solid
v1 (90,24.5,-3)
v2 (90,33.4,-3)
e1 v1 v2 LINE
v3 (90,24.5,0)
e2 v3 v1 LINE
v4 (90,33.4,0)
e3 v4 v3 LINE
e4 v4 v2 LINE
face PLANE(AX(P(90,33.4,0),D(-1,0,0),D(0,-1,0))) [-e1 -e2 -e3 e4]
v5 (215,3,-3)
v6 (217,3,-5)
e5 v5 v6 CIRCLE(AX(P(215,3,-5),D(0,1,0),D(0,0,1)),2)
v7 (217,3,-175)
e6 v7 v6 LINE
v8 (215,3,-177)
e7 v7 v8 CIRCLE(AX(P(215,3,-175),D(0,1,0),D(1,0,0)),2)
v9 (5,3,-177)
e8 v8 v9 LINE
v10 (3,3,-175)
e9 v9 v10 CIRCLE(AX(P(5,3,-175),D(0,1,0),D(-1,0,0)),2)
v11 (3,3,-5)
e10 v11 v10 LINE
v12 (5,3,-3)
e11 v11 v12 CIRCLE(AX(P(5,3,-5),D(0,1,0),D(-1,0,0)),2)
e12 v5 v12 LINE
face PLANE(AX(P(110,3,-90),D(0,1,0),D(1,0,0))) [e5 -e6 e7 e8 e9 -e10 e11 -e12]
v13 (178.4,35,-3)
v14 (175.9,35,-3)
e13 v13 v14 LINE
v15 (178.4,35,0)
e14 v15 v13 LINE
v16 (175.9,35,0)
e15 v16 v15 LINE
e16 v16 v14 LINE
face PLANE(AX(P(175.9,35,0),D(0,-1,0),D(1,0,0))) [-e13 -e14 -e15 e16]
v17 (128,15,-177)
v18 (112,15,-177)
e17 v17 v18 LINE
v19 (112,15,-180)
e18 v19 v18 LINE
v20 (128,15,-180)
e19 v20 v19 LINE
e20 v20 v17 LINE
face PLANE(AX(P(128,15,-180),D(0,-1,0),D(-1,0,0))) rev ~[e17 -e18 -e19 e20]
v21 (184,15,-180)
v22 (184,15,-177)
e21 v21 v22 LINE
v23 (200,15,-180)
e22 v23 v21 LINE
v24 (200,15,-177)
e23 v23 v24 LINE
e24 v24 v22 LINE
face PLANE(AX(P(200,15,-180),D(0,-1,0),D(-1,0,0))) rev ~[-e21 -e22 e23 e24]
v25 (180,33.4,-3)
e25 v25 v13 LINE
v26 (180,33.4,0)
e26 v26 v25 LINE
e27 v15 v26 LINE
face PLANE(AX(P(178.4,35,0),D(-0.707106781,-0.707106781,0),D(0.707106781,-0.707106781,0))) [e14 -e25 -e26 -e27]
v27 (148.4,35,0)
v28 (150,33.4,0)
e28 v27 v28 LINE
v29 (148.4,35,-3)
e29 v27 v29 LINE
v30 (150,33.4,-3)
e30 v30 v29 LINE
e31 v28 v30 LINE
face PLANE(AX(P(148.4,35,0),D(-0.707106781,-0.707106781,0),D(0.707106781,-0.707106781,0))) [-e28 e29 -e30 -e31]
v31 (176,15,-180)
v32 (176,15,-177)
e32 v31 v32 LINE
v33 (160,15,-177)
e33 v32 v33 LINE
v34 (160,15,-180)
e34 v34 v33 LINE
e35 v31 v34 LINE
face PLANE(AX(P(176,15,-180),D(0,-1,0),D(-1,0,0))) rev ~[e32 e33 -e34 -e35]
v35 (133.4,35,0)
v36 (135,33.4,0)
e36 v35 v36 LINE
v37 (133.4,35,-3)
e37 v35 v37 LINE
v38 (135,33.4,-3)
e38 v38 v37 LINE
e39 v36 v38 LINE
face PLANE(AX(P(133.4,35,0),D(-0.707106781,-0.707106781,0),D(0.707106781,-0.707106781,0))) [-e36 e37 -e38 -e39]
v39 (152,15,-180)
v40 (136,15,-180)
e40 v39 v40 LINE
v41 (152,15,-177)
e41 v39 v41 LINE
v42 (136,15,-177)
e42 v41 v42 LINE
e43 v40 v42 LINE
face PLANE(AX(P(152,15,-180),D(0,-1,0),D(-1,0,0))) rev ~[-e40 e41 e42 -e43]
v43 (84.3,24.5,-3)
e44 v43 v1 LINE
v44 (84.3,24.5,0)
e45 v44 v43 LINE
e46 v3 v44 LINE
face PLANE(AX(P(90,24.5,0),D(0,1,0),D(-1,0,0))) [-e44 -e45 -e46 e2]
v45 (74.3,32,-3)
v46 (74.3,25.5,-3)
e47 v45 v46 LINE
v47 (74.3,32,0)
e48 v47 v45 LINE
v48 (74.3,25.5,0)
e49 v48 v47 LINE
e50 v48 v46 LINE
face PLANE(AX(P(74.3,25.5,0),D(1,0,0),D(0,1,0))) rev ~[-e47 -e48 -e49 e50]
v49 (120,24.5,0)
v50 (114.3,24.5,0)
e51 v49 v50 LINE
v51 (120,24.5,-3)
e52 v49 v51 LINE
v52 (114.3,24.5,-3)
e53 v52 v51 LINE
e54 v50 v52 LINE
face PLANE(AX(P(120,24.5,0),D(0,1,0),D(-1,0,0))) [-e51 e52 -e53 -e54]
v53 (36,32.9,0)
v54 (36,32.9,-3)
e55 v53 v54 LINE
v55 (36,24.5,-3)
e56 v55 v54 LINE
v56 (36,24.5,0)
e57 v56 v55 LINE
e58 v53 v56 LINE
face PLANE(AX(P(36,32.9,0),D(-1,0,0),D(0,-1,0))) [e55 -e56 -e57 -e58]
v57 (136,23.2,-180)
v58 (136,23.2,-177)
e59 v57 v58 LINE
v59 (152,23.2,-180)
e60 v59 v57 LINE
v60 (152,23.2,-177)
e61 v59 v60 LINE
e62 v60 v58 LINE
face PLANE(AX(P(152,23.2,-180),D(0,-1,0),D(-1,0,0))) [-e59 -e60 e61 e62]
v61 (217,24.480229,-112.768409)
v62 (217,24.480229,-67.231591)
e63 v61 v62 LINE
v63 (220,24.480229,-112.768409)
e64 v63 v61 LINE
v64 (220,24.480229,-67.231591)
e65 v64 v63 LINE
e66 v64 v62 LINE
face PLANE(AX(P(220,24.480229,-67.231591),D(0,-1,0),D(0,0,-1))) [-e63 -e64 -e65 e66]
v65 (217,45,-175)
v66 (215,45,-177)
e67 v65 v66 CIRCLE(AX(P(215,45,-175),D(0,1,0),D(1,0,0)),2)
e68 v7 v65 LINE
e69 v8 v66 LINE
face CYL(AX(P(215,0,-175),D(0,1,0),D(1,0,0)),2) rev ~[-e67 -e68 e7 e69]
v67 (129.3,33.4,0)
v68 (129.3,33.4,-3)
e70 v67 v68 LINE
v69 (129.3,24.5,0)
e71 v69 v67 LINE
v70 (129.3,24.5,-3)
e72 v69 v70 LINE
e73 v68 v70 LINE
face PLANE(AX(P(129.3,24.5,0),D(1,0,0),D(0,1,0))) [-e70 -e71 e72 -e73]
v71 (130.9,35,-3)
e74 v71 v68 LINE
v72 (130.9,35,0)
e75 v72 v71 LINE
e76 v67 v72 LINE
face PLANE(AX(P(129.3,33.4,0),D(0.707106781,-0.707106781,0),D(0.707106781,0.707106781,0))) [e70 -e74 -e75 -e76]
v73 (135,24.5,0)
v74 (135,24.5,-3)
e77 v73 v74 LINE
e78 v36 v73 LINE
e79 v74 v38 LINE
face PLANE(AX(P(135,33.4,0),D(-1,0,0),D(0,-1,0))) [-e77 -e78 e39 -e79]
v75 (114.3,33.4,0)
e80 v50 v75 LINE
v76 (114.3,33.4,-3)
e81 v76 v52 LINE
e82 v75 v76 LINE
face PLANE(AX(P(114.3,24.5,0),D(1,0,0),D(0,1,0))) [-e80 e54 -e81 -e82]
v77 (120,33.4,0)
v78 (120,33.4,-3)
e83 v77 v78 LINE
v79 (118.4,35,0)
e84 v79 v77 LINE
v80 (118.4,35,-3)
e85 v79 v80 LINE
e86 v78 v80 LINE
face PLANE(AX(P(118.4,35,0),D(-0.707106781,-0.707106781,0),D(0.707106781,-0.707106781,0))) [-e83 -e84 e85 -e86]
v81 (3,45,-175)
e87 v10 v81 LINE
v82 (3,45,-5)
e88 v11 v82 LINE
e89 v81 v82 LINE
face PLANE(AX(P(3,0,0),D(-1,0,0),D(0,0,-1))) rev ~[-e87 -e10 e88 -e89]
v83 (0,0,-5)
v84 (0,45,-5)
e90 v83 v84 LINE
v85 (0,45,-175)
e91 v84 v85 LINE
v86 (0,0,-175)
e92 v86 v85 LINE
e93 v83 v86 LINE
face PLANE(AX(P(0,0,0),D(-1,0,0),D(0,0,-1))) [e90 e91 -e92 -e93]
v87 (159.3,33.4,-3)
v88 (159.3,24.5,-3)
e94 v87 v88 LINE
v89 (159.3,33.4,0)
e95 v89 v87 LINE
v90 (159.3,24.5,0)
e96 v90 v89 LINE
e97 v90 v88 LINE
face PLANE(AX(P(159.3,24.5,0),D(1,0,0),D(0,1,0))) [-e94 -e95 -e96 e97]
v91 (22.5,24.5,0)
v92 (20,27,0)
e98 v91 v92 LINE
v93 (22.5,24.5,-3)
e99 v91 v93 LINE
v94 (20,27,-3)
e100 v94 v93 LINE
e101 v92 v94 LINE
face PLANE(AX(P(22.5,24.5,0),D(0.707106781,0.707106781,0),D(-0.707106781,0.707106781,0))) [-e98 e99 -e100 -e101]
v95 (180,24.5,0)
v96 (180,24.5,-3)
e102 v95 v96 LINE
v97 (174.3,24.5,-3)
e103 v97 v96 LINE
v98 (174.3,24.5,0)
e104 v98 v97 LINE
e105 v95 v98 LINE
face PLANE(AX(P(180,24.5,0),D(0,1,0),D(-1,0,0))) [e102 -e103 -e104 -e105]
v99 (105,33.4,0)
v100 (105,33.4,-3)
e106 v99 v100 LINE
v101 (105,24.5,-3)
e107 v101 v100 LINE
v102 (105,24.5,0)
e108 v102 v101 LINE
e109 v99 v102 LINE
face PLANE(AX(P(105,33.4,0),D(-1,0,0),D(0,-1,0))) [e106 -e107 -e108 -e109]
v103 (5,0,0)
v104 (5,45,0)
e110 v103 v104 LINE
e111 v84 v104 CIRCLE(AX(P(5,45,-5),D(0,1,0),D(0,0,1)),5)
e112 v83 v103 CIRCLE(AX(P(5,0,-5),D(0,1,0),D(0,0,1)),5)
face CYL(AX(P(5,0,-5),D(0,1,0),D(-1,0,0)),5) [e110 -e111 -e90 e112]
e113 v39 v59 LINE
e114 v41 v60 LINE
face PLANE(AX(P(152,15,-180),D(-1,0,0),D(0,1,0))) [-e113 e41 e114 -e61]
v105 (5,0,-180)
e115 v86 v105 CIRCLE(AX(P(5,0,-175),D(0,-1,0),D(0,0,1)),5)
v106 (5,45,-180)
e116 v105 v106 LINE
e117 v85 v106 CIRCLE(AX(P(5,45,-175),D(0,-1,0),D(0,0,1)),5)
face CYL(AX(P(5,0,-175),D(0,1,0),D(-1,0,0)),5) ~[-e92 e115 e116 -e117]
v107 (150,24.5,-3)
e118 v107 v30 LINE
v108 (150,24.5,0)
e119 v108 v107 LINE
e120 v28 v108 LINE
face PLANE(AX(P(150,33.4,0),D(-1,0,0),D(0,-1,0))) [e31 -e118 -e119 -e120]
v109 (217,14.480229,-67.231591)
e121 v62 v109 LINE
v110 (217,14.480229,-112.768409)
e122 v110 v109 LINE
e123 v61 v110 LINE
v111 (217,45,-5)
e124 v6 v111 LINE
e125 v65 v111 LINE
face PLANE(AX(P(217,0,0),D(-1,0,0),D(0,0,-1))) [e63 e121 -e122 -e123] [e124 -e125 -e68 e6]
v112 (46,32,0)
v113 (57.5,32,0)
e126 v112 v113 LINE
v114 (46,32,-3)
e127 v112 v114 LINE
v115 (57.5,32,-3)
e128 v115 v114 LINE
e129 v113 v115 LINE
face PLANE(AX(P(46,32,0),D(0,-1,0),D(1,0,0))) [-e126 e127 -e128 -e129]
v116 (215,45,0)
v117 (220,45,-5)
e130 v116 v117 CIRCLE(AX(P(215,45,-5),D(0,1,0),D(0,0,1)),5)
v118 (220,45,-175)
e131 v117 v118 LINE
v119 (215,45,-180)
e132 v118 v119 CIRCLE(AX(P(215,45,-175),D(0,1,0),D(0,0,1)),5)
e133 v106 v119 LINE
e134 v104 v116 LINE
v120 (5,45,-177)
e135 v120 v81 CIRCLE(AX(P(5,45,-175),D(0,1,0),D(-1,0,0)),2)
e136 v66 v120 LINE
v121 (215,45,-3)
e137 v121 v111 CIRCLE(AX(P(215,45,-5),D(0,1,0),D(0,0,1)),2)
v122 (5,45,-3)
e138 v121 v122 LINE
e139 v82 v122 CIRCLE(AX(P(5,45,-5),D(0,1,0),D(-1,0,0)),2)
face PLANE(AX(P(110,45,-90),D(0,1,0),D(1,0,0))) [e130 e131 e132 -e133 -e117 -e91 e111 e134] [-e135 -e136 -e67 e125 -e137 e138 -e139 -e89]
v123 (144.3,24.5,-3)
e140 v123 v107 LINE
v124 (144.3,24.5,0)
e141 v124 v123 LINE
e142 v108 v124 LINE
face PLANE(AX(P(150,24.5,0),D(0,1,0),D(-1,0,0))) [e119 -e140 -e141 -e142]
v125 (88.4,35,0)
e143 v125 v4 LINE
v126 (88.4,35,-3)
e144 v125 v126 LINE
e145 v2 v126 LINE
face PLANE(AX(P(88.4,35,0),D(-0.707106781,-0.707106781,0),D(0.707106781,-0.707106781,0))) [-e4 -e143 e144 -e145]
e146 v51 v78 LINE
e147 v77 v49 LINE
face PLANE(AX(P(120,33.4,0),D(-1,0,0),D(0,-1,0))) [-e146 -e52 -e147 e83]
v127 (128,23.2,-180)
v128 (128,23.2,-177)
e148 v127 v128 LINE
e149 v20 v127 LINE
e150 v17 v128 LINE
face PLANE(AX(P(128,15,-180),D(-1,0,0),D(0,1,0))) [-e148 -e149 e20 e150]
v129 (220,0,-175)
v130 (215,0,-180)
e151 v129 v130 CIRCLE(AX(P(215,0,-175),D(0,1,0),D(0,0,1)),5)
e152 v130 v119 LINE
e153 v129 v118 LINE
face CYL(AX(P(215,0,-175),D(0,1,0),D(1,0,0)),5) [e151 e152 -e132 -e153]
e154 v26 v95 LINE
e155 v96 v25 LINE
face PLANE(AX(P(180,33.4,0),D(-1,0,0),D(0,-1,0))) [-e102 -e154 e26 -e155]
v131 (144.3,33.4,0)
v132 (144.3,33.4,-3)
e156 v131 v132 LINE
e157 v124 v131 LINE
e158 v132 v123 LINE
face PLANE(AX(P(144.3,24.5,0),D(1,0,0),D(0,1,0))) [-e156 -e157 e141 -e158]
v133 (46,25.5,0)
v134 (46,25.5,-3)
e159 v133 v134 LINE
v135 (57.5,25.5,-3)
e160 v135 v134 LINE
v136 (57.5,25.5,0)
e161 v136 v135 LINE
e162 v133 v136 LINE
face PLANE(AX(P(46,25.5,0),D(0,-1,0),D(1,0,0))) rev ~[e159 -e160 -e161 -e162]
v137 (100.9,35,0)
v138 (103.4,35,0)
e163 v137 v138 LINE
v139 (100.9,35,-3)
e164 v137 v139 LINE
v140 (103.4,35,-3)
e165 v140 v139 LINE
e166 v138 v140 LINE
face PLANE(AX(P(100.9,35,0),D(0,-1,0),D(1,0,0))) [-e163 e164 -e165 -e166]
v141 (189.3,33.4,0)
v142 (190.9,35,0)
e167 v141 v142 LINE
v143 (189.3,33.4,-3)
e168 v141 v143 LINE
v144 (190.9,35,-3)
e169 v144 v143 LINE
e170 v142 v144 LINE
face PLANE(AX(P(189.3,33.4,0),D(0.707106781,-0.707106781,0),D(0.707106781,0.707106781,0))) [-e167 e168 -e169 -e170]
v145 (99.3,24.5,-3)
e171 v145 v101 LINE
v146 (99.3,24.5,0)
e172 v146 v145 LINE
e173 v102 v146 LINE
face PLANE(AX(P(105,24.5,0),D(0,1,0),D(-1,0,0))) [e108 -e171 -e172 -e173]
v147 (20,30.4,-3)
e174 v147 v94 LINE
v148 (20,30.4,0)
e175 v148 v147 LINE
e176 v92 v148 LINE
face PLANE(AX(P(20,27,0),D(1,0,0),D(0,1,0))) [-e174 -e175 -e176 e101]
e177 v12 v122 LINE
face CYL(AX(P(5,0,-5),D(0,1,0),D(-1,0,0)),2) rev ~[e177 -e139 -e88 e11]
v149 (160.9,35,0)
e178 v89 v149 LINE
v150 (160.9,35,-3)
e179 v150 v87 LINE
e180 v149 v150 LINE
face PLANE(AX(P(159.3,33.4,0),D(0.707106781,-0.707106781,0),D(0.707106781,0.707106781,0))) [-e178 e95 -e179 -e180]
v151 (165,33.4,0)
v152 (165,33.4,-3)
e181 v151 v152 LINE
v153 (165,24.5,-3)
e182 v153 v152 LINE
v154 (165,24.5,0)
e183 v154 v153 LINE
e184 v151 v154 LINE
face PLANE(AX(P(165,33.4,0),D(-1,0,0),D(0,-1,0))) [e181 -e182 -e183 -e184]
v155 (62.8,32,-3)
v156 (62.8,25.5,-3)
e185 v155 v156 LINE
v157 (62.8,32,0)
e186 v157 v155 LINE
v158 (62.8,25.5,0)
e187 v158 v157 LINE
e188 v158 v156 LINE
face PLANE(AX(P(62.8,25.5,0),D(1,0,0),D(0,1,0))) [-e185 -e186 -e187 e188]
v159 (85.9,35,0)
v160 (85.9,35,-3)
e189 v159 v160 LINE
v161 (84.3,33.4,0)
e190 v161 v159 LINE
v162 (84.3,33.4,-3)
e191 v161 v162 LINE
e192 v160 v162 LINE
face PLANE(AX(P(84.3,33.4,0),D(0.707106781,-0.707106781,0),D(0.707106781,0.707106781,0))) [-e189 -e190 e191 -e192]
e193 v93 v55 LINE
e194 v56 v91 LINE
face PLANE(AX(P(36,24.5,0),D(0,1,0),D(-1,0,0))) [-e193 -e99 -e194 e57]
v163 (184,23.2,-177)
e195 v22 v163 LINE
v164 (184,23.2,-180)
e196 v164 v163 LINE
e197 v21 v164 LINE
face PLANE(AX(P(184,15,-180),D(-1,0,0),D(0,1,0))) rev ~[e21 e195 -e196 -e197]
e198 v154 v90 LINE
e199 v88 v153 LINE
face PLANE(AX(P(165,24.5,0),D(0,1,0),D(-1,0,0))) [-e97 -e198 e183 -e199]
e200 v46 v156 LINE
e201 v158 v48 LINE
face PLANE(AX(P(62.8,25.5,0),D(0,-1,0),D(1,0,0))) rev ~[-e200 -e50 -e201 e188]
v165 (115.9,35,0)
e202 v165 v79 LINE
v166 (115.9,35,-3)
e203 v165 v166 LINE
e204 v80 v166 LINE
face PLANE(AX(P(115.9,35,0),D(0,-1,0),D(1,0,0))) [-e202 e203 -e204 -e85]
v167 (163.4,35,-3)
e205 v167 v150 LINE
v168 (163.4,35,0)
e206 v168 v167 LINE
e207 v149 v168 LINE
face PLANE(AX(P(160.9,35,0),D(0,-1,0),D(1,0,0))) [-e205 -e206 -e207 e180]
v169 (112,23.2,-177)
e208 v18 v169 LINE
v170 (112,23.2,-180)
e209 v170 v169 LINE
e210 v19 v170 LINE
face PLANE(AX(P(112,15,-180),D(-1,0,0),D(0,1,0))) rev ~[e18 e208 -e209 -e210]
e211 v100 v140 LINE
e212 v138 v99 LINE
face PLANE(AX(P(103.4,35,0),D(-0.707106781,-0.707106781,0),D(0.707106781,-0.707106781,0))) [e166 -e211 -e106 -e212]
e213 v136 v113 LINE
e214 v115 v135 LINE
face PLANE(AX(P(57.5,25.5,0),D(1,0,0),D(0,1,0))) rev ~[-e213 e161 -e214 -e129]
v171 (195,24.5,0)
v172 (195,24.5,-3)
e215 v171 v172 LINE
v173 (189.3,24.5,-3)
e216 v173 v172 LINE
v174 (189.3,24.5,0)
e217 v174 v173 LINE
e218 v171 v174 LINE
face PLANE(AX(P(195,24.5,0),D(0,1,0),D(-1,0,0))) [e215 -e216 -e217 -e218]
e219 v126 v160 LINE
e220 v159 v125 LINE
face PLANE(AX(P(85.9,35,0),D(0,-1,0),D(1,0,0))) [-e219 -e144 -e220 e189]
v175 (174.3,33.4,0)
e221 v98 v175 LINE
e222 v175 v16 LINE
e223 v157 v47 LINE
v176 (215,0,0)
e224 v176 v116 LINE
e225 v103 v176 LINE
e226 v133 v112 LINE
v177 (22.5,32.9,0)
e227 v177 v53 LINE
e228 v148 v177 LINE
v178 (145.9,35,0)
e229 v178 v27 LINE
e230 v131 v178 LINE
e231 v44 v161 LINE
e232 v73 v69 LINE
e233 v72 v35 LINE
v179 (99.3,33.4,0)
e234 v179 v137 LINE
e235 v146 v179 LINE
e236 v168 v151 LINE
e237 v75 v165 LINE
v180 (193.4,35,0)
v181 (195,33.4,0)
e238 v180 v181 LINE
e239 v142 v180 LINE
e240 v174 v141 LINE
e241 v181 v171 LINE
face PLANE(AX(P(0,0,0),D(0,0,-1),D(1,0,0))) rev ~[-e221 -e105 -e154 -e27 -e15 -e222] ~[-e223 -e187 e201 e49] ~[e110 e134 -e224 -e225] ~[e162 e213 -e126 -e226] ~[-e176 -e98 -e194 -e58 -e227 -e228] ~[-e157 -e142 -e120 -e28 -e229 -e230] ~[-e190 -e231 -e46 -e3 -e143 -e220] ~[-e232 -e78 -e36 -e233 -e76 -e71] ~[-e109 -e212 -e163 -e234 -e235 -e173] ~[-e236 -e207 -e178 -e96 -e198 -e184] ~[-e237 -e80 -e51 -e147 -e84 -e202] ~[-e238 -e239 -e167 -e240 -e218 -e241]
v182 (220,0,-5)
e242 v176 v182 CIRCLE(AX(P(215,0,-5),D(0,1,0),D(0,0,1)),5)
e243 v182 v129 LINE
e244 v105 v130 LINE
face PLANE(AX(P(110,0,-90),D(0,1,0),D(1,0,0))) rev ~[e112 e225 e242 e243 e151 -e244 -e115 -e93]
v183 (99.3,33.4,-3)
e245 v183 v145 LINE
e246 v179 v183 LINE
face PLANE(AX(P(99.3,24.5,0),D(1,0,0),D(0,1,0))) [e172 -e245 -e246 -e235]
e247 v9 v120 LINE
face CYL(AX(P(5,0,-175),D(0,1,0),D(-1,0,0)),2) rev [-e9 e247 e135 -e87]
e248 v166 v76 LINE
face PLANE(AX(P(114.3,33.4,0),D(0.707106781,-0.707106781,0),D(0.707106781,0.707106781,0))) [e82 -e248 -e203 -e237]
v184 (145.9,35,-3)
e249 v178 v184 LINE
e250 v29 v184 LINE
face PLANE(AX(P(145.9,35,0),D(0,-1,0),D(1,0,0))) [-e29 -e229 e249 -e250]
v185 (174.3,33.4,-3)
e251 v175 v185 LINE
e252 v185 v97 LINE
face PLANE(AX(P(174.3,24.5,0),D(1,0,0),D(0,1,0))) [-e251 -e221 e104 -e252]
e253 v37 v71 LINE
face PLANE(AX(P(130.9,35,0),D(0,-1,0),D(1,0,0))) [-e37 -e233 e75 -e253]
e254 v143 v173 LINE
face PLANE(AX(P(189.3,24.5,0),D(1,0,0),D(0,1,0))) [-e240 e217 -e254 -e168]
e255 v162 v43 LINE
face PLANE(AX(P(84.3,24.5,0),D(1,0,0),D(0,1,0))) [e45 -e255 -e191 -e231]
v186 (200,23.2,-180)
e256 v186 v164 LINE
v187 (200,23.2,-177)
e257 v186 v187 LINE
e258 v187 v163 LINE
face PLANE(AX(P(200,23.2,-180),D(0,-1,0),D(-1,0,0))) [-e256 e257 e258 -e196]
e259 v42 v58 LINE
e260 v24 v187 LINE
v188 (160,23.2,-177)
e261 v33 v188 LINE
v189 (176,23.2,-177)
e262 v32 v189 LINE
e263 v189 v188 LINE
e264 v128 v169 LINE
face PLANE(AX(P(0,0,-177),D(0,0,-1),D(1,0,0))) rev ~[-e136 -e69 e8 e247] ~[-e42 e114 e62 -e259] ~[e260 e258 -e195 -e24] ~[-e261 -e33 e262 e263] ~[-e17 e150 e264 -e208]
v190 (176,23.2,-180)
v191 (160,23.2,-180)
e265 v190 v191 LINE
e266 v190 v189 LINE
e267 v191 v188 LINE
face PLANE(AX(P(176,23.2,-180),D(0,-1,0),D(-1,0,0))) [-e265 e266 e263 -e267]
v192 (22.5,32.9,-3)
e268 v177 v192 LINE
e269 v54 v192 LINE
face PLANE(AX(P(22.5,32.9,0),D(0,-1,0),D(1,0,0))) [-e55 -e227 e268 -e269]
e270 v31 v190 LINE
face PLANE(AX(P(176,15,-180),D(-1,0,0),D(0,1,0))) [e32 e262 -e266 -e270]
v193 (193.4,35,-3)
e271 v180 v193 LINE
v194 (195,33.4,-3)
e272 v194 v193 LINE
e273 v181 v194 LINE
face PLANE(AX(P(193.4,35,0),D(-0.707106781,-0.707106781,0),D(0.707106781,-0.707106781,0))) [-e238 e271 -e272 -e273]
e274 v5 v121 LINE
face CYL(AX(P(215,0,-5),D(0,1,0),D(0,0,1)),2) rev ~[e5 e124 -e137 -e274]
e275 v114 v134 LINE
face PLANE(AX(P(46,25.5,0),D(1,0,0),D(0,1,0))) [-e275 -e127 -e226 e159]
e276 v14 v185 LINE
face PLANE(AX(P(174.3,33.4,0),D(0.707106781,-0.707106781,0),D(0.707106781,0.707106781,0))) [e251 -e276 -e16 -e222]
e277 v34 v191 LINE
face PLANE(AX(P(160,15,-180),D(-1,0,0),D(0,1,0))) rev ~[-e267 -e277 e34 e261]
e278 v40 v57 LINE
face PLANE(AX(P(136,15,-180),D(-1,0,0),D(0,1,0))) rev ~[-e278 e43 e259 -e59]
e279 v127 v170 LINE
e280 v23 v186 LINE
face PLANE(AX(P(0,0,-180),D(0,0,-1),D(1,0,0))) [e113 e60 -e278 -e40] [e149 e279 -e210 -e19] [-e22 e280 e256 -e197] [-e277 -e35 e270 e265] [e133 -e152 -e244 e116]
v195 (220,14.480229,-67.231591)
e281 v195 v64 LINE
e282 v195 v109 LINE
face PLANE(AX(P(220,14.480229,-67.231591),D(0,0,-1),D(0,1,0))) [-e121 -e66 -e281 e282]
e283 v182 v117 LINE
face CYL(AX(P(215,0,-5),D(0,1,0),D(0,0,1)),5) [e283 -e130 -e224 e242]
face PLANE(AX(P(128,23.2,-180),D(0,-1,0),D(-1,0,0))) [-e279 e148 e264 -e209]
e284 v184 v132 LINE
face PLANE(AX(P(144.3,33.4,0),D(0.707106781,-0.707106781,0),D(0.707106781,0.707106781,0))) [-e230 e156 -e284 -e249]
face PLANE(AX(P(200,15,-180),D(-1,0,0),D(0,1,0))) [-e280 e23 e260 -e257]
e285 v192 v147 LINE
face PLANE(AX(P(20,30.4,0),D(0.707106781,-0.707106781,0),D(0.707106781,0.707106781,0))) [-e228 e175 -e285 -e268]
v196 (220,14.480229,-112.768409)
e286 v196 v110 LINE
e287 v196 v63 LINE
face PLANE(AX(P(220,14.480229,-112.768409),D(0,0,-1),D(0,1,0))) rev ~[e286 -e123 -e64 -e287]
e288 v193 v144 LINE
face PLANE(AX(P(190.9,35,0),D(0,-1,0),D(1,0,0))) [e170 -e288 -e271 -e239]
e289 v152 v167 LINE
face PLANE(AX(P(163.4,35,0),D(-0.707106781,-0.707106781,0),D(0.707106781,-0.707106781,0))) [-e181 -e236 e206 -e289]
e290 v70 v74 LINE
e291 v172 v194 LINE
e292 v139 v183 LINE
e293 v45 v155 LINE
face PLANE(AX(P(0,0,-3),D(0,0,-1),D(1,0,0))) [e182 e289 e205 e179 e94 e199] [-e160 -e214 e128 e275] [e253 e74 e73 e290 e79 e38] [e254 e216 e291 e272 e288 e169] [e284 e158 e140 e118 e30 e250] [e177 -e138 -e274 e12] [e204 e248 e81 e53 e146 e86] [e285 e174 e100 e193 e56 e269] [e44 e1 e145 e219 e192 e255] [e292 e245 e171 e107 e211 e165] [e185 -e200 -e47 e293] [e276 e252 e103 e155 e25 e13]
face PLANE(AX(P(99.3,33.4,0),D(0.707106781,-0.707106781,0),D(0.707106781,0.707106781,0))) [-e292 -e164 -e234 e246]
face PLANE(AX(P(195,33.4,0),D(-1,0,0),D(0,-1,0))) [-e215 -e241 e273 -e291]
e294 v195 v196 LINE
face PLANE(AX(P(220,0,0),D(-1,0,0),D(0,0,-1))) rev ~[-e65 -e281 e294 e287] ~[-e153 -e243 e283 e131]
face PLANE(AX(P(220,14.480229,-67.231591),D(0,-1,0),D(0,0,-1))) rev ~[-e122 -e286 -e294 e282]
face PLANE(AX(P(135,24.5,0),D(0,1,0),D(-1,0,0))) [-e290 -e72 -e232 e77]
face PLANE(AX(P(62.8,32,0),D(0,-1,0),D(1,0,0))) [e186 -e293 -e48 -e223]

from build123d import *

# Parameters (mm, degrees)
SKETCH1_W           = 220
SKETCH1_H           = 180
BOSS_EXTRUDE1_DEPTH = 45
FILLET1_R           = 5
SHELL1_T            = -3
CUT_EXTRUDE2_DEPTH  = 5
CUT_EXTRUDE3_DEPTH  = 5
SKETCH4_W           = 11.5
SKETCH4_H           = 6.5
CUT_EXTRUDE4_DEPTH  = 5
SKETCH5_W           = 45.536818034
SKETCH5_H           = 10
CUT_EXTRUDE5_DEPTH  = 5
SKETCH6_W           = 16
SKETCH6_H           = 8.2
CUT_EXTRUDE6_DEPTH  = 5


with BuildPart() as part:
    # Sketch1 → Boss-Extrude1 (new body)
    with BuildSketch(Plane(origin=(0, 0, 0), x_dir=(1, 0, 0), z_dir=(0, 1, 0))):
        with Locations((110, 90)):
            Rectangle(SKETCH1_W, SKETCH1_H)
    extrude(amount=BOSS_EXTRUDE1_DEPTH)

    # Fillet1
    fillet1_edges = [part.edges().sort_by_distance(p)[0] for p in [
        (0, 22.5, -180),
        (220, 22.5, -180),
        (220, 22.5, 0),
        (0, 22.5, 0),
    ]]
    fillet(fillet1_edges, radius=FILLET1_R)

    # Shell1
    shell1_openings = [part.faces().sort_by_distance(p)[0] for p in [
        (110, 45, -90),
    ]]
    offset(amount=SHELL1_T, openings=shell1_openings, kind=Kind.INTERSECTION)

    # Sketch2 → Cut-Extrude2 (cut)
    with BuildSketch(Plane.XY):
        Polygon((175.9, 35), (178.4, 35), (180, 33.4), (180, 24.5), (174.3, 24.5), (174.3, 33.4), align=None)
        Polygon((190.9, 35), (193.4, 35), (195, 33.4), (195, 24.5), (189.3, 24.5), (189.3, 33.4), align=None)
        Polygon((160.9, 35), (163.4, 35), (165, 33.4), (165, 24.5), (159.3, 24.5), (159.3, 33.4), align=None)
        Polygon((145.9, 35), (148.4, 35), (150, 33.4), (150, 24.5), (144.3, 24.5), (144.3, 33.4), align=None)
        Polygon((130.9, 35), (133.4, 35), (135, 33.4), (135, 24.5), (129.3, 24.5), (129.3, 33.4), align=None)
        Polygon((115.9, 35), (118.4, 35), (120, 33.4), (120, 24.5), (114.3, 24.5), (114.3, 33.4), align=None)
        Polygon((100.9, 35), (103.4, 35), (105, 33.4), (105, 24.5), (99.3, 24.5), (99.3, 33.4), align=None)
        Polygon((85.9, 35), (88.4, 35), (90, 33.4), (90, 24.5), (84.3, 24.5), (84.3, 33.4), align=None)
    extrude(amount=-CUT_EXTRUDE2_DEPTH, mode=Mode.SUBTRACT)

    # Sketch3 → Cut-Extrude3 (cut)
    with BuildSketch(Plane.XY):
        Polygon((22.5, 32.9), (36, 32.9), (36, 24.5), (22.5, 24.5), (20, 27), (20, 30.4), align=None)
    extrude(amount=-CUT_EXTRUDE3_DEPTH, mode=Mode.SUBTRACT)

    # Sketch4 → Cut-Extrude4 (cut)
    with BuildSketch(Plane.XY):
        with Locations((51.75, 28.75)):
            Rectangle(SKETCH4_W, SKETCH4_H)
        with Locations((68.55, 28.75)):
            Rectangle(SKETCH4_W, SKETCH4_H)
    extrude(amount=-CUT_EXTRUDE4_DEPTH, mode=Mode.SUBTRACT)

    # Sketch5 → Cut-Extrude5 (cut)
    with BuildSketch(Plane(origin=(220, 0, 0), x_dir=(0, 0, -1), z_dir=(1, 0, 0))):
        with Locations((90, 19.480228536)):
            Rectangle(SKETCH5_W, SKETCH5_H)
    extrude(amount=-CUT_EXTRUDE5_DEPTH, mode=Mode.SUBTRACT)

    # Sketch6 → Cut-Extrude6 (cut)
    with BuildSketch(Plane(origin=(0, 0, -180), x_dir=(-1, 0, 0), z_dir=(0, 0, -1))):
        with Locations((-192, 19.1)):
            Rectangle(SKETCH6_W, SKETCH6_H)
        with Locations((-168, 19.1)):
            Rectangle(SKETCH6_W, SKETCH6_H)
        with Locations((-144, 19.1)):
            Rectangle(SKETCH6_W, SKETCH6_H)
        with Locations((-120, 19.1)):
            Rectangle(SKETCH6_W, SKETCH6_H)
    extrude(amount=-CUT_EXTRUDE6_DEPTH, mode=Mode.SUBTRACT)


solid = part.part
